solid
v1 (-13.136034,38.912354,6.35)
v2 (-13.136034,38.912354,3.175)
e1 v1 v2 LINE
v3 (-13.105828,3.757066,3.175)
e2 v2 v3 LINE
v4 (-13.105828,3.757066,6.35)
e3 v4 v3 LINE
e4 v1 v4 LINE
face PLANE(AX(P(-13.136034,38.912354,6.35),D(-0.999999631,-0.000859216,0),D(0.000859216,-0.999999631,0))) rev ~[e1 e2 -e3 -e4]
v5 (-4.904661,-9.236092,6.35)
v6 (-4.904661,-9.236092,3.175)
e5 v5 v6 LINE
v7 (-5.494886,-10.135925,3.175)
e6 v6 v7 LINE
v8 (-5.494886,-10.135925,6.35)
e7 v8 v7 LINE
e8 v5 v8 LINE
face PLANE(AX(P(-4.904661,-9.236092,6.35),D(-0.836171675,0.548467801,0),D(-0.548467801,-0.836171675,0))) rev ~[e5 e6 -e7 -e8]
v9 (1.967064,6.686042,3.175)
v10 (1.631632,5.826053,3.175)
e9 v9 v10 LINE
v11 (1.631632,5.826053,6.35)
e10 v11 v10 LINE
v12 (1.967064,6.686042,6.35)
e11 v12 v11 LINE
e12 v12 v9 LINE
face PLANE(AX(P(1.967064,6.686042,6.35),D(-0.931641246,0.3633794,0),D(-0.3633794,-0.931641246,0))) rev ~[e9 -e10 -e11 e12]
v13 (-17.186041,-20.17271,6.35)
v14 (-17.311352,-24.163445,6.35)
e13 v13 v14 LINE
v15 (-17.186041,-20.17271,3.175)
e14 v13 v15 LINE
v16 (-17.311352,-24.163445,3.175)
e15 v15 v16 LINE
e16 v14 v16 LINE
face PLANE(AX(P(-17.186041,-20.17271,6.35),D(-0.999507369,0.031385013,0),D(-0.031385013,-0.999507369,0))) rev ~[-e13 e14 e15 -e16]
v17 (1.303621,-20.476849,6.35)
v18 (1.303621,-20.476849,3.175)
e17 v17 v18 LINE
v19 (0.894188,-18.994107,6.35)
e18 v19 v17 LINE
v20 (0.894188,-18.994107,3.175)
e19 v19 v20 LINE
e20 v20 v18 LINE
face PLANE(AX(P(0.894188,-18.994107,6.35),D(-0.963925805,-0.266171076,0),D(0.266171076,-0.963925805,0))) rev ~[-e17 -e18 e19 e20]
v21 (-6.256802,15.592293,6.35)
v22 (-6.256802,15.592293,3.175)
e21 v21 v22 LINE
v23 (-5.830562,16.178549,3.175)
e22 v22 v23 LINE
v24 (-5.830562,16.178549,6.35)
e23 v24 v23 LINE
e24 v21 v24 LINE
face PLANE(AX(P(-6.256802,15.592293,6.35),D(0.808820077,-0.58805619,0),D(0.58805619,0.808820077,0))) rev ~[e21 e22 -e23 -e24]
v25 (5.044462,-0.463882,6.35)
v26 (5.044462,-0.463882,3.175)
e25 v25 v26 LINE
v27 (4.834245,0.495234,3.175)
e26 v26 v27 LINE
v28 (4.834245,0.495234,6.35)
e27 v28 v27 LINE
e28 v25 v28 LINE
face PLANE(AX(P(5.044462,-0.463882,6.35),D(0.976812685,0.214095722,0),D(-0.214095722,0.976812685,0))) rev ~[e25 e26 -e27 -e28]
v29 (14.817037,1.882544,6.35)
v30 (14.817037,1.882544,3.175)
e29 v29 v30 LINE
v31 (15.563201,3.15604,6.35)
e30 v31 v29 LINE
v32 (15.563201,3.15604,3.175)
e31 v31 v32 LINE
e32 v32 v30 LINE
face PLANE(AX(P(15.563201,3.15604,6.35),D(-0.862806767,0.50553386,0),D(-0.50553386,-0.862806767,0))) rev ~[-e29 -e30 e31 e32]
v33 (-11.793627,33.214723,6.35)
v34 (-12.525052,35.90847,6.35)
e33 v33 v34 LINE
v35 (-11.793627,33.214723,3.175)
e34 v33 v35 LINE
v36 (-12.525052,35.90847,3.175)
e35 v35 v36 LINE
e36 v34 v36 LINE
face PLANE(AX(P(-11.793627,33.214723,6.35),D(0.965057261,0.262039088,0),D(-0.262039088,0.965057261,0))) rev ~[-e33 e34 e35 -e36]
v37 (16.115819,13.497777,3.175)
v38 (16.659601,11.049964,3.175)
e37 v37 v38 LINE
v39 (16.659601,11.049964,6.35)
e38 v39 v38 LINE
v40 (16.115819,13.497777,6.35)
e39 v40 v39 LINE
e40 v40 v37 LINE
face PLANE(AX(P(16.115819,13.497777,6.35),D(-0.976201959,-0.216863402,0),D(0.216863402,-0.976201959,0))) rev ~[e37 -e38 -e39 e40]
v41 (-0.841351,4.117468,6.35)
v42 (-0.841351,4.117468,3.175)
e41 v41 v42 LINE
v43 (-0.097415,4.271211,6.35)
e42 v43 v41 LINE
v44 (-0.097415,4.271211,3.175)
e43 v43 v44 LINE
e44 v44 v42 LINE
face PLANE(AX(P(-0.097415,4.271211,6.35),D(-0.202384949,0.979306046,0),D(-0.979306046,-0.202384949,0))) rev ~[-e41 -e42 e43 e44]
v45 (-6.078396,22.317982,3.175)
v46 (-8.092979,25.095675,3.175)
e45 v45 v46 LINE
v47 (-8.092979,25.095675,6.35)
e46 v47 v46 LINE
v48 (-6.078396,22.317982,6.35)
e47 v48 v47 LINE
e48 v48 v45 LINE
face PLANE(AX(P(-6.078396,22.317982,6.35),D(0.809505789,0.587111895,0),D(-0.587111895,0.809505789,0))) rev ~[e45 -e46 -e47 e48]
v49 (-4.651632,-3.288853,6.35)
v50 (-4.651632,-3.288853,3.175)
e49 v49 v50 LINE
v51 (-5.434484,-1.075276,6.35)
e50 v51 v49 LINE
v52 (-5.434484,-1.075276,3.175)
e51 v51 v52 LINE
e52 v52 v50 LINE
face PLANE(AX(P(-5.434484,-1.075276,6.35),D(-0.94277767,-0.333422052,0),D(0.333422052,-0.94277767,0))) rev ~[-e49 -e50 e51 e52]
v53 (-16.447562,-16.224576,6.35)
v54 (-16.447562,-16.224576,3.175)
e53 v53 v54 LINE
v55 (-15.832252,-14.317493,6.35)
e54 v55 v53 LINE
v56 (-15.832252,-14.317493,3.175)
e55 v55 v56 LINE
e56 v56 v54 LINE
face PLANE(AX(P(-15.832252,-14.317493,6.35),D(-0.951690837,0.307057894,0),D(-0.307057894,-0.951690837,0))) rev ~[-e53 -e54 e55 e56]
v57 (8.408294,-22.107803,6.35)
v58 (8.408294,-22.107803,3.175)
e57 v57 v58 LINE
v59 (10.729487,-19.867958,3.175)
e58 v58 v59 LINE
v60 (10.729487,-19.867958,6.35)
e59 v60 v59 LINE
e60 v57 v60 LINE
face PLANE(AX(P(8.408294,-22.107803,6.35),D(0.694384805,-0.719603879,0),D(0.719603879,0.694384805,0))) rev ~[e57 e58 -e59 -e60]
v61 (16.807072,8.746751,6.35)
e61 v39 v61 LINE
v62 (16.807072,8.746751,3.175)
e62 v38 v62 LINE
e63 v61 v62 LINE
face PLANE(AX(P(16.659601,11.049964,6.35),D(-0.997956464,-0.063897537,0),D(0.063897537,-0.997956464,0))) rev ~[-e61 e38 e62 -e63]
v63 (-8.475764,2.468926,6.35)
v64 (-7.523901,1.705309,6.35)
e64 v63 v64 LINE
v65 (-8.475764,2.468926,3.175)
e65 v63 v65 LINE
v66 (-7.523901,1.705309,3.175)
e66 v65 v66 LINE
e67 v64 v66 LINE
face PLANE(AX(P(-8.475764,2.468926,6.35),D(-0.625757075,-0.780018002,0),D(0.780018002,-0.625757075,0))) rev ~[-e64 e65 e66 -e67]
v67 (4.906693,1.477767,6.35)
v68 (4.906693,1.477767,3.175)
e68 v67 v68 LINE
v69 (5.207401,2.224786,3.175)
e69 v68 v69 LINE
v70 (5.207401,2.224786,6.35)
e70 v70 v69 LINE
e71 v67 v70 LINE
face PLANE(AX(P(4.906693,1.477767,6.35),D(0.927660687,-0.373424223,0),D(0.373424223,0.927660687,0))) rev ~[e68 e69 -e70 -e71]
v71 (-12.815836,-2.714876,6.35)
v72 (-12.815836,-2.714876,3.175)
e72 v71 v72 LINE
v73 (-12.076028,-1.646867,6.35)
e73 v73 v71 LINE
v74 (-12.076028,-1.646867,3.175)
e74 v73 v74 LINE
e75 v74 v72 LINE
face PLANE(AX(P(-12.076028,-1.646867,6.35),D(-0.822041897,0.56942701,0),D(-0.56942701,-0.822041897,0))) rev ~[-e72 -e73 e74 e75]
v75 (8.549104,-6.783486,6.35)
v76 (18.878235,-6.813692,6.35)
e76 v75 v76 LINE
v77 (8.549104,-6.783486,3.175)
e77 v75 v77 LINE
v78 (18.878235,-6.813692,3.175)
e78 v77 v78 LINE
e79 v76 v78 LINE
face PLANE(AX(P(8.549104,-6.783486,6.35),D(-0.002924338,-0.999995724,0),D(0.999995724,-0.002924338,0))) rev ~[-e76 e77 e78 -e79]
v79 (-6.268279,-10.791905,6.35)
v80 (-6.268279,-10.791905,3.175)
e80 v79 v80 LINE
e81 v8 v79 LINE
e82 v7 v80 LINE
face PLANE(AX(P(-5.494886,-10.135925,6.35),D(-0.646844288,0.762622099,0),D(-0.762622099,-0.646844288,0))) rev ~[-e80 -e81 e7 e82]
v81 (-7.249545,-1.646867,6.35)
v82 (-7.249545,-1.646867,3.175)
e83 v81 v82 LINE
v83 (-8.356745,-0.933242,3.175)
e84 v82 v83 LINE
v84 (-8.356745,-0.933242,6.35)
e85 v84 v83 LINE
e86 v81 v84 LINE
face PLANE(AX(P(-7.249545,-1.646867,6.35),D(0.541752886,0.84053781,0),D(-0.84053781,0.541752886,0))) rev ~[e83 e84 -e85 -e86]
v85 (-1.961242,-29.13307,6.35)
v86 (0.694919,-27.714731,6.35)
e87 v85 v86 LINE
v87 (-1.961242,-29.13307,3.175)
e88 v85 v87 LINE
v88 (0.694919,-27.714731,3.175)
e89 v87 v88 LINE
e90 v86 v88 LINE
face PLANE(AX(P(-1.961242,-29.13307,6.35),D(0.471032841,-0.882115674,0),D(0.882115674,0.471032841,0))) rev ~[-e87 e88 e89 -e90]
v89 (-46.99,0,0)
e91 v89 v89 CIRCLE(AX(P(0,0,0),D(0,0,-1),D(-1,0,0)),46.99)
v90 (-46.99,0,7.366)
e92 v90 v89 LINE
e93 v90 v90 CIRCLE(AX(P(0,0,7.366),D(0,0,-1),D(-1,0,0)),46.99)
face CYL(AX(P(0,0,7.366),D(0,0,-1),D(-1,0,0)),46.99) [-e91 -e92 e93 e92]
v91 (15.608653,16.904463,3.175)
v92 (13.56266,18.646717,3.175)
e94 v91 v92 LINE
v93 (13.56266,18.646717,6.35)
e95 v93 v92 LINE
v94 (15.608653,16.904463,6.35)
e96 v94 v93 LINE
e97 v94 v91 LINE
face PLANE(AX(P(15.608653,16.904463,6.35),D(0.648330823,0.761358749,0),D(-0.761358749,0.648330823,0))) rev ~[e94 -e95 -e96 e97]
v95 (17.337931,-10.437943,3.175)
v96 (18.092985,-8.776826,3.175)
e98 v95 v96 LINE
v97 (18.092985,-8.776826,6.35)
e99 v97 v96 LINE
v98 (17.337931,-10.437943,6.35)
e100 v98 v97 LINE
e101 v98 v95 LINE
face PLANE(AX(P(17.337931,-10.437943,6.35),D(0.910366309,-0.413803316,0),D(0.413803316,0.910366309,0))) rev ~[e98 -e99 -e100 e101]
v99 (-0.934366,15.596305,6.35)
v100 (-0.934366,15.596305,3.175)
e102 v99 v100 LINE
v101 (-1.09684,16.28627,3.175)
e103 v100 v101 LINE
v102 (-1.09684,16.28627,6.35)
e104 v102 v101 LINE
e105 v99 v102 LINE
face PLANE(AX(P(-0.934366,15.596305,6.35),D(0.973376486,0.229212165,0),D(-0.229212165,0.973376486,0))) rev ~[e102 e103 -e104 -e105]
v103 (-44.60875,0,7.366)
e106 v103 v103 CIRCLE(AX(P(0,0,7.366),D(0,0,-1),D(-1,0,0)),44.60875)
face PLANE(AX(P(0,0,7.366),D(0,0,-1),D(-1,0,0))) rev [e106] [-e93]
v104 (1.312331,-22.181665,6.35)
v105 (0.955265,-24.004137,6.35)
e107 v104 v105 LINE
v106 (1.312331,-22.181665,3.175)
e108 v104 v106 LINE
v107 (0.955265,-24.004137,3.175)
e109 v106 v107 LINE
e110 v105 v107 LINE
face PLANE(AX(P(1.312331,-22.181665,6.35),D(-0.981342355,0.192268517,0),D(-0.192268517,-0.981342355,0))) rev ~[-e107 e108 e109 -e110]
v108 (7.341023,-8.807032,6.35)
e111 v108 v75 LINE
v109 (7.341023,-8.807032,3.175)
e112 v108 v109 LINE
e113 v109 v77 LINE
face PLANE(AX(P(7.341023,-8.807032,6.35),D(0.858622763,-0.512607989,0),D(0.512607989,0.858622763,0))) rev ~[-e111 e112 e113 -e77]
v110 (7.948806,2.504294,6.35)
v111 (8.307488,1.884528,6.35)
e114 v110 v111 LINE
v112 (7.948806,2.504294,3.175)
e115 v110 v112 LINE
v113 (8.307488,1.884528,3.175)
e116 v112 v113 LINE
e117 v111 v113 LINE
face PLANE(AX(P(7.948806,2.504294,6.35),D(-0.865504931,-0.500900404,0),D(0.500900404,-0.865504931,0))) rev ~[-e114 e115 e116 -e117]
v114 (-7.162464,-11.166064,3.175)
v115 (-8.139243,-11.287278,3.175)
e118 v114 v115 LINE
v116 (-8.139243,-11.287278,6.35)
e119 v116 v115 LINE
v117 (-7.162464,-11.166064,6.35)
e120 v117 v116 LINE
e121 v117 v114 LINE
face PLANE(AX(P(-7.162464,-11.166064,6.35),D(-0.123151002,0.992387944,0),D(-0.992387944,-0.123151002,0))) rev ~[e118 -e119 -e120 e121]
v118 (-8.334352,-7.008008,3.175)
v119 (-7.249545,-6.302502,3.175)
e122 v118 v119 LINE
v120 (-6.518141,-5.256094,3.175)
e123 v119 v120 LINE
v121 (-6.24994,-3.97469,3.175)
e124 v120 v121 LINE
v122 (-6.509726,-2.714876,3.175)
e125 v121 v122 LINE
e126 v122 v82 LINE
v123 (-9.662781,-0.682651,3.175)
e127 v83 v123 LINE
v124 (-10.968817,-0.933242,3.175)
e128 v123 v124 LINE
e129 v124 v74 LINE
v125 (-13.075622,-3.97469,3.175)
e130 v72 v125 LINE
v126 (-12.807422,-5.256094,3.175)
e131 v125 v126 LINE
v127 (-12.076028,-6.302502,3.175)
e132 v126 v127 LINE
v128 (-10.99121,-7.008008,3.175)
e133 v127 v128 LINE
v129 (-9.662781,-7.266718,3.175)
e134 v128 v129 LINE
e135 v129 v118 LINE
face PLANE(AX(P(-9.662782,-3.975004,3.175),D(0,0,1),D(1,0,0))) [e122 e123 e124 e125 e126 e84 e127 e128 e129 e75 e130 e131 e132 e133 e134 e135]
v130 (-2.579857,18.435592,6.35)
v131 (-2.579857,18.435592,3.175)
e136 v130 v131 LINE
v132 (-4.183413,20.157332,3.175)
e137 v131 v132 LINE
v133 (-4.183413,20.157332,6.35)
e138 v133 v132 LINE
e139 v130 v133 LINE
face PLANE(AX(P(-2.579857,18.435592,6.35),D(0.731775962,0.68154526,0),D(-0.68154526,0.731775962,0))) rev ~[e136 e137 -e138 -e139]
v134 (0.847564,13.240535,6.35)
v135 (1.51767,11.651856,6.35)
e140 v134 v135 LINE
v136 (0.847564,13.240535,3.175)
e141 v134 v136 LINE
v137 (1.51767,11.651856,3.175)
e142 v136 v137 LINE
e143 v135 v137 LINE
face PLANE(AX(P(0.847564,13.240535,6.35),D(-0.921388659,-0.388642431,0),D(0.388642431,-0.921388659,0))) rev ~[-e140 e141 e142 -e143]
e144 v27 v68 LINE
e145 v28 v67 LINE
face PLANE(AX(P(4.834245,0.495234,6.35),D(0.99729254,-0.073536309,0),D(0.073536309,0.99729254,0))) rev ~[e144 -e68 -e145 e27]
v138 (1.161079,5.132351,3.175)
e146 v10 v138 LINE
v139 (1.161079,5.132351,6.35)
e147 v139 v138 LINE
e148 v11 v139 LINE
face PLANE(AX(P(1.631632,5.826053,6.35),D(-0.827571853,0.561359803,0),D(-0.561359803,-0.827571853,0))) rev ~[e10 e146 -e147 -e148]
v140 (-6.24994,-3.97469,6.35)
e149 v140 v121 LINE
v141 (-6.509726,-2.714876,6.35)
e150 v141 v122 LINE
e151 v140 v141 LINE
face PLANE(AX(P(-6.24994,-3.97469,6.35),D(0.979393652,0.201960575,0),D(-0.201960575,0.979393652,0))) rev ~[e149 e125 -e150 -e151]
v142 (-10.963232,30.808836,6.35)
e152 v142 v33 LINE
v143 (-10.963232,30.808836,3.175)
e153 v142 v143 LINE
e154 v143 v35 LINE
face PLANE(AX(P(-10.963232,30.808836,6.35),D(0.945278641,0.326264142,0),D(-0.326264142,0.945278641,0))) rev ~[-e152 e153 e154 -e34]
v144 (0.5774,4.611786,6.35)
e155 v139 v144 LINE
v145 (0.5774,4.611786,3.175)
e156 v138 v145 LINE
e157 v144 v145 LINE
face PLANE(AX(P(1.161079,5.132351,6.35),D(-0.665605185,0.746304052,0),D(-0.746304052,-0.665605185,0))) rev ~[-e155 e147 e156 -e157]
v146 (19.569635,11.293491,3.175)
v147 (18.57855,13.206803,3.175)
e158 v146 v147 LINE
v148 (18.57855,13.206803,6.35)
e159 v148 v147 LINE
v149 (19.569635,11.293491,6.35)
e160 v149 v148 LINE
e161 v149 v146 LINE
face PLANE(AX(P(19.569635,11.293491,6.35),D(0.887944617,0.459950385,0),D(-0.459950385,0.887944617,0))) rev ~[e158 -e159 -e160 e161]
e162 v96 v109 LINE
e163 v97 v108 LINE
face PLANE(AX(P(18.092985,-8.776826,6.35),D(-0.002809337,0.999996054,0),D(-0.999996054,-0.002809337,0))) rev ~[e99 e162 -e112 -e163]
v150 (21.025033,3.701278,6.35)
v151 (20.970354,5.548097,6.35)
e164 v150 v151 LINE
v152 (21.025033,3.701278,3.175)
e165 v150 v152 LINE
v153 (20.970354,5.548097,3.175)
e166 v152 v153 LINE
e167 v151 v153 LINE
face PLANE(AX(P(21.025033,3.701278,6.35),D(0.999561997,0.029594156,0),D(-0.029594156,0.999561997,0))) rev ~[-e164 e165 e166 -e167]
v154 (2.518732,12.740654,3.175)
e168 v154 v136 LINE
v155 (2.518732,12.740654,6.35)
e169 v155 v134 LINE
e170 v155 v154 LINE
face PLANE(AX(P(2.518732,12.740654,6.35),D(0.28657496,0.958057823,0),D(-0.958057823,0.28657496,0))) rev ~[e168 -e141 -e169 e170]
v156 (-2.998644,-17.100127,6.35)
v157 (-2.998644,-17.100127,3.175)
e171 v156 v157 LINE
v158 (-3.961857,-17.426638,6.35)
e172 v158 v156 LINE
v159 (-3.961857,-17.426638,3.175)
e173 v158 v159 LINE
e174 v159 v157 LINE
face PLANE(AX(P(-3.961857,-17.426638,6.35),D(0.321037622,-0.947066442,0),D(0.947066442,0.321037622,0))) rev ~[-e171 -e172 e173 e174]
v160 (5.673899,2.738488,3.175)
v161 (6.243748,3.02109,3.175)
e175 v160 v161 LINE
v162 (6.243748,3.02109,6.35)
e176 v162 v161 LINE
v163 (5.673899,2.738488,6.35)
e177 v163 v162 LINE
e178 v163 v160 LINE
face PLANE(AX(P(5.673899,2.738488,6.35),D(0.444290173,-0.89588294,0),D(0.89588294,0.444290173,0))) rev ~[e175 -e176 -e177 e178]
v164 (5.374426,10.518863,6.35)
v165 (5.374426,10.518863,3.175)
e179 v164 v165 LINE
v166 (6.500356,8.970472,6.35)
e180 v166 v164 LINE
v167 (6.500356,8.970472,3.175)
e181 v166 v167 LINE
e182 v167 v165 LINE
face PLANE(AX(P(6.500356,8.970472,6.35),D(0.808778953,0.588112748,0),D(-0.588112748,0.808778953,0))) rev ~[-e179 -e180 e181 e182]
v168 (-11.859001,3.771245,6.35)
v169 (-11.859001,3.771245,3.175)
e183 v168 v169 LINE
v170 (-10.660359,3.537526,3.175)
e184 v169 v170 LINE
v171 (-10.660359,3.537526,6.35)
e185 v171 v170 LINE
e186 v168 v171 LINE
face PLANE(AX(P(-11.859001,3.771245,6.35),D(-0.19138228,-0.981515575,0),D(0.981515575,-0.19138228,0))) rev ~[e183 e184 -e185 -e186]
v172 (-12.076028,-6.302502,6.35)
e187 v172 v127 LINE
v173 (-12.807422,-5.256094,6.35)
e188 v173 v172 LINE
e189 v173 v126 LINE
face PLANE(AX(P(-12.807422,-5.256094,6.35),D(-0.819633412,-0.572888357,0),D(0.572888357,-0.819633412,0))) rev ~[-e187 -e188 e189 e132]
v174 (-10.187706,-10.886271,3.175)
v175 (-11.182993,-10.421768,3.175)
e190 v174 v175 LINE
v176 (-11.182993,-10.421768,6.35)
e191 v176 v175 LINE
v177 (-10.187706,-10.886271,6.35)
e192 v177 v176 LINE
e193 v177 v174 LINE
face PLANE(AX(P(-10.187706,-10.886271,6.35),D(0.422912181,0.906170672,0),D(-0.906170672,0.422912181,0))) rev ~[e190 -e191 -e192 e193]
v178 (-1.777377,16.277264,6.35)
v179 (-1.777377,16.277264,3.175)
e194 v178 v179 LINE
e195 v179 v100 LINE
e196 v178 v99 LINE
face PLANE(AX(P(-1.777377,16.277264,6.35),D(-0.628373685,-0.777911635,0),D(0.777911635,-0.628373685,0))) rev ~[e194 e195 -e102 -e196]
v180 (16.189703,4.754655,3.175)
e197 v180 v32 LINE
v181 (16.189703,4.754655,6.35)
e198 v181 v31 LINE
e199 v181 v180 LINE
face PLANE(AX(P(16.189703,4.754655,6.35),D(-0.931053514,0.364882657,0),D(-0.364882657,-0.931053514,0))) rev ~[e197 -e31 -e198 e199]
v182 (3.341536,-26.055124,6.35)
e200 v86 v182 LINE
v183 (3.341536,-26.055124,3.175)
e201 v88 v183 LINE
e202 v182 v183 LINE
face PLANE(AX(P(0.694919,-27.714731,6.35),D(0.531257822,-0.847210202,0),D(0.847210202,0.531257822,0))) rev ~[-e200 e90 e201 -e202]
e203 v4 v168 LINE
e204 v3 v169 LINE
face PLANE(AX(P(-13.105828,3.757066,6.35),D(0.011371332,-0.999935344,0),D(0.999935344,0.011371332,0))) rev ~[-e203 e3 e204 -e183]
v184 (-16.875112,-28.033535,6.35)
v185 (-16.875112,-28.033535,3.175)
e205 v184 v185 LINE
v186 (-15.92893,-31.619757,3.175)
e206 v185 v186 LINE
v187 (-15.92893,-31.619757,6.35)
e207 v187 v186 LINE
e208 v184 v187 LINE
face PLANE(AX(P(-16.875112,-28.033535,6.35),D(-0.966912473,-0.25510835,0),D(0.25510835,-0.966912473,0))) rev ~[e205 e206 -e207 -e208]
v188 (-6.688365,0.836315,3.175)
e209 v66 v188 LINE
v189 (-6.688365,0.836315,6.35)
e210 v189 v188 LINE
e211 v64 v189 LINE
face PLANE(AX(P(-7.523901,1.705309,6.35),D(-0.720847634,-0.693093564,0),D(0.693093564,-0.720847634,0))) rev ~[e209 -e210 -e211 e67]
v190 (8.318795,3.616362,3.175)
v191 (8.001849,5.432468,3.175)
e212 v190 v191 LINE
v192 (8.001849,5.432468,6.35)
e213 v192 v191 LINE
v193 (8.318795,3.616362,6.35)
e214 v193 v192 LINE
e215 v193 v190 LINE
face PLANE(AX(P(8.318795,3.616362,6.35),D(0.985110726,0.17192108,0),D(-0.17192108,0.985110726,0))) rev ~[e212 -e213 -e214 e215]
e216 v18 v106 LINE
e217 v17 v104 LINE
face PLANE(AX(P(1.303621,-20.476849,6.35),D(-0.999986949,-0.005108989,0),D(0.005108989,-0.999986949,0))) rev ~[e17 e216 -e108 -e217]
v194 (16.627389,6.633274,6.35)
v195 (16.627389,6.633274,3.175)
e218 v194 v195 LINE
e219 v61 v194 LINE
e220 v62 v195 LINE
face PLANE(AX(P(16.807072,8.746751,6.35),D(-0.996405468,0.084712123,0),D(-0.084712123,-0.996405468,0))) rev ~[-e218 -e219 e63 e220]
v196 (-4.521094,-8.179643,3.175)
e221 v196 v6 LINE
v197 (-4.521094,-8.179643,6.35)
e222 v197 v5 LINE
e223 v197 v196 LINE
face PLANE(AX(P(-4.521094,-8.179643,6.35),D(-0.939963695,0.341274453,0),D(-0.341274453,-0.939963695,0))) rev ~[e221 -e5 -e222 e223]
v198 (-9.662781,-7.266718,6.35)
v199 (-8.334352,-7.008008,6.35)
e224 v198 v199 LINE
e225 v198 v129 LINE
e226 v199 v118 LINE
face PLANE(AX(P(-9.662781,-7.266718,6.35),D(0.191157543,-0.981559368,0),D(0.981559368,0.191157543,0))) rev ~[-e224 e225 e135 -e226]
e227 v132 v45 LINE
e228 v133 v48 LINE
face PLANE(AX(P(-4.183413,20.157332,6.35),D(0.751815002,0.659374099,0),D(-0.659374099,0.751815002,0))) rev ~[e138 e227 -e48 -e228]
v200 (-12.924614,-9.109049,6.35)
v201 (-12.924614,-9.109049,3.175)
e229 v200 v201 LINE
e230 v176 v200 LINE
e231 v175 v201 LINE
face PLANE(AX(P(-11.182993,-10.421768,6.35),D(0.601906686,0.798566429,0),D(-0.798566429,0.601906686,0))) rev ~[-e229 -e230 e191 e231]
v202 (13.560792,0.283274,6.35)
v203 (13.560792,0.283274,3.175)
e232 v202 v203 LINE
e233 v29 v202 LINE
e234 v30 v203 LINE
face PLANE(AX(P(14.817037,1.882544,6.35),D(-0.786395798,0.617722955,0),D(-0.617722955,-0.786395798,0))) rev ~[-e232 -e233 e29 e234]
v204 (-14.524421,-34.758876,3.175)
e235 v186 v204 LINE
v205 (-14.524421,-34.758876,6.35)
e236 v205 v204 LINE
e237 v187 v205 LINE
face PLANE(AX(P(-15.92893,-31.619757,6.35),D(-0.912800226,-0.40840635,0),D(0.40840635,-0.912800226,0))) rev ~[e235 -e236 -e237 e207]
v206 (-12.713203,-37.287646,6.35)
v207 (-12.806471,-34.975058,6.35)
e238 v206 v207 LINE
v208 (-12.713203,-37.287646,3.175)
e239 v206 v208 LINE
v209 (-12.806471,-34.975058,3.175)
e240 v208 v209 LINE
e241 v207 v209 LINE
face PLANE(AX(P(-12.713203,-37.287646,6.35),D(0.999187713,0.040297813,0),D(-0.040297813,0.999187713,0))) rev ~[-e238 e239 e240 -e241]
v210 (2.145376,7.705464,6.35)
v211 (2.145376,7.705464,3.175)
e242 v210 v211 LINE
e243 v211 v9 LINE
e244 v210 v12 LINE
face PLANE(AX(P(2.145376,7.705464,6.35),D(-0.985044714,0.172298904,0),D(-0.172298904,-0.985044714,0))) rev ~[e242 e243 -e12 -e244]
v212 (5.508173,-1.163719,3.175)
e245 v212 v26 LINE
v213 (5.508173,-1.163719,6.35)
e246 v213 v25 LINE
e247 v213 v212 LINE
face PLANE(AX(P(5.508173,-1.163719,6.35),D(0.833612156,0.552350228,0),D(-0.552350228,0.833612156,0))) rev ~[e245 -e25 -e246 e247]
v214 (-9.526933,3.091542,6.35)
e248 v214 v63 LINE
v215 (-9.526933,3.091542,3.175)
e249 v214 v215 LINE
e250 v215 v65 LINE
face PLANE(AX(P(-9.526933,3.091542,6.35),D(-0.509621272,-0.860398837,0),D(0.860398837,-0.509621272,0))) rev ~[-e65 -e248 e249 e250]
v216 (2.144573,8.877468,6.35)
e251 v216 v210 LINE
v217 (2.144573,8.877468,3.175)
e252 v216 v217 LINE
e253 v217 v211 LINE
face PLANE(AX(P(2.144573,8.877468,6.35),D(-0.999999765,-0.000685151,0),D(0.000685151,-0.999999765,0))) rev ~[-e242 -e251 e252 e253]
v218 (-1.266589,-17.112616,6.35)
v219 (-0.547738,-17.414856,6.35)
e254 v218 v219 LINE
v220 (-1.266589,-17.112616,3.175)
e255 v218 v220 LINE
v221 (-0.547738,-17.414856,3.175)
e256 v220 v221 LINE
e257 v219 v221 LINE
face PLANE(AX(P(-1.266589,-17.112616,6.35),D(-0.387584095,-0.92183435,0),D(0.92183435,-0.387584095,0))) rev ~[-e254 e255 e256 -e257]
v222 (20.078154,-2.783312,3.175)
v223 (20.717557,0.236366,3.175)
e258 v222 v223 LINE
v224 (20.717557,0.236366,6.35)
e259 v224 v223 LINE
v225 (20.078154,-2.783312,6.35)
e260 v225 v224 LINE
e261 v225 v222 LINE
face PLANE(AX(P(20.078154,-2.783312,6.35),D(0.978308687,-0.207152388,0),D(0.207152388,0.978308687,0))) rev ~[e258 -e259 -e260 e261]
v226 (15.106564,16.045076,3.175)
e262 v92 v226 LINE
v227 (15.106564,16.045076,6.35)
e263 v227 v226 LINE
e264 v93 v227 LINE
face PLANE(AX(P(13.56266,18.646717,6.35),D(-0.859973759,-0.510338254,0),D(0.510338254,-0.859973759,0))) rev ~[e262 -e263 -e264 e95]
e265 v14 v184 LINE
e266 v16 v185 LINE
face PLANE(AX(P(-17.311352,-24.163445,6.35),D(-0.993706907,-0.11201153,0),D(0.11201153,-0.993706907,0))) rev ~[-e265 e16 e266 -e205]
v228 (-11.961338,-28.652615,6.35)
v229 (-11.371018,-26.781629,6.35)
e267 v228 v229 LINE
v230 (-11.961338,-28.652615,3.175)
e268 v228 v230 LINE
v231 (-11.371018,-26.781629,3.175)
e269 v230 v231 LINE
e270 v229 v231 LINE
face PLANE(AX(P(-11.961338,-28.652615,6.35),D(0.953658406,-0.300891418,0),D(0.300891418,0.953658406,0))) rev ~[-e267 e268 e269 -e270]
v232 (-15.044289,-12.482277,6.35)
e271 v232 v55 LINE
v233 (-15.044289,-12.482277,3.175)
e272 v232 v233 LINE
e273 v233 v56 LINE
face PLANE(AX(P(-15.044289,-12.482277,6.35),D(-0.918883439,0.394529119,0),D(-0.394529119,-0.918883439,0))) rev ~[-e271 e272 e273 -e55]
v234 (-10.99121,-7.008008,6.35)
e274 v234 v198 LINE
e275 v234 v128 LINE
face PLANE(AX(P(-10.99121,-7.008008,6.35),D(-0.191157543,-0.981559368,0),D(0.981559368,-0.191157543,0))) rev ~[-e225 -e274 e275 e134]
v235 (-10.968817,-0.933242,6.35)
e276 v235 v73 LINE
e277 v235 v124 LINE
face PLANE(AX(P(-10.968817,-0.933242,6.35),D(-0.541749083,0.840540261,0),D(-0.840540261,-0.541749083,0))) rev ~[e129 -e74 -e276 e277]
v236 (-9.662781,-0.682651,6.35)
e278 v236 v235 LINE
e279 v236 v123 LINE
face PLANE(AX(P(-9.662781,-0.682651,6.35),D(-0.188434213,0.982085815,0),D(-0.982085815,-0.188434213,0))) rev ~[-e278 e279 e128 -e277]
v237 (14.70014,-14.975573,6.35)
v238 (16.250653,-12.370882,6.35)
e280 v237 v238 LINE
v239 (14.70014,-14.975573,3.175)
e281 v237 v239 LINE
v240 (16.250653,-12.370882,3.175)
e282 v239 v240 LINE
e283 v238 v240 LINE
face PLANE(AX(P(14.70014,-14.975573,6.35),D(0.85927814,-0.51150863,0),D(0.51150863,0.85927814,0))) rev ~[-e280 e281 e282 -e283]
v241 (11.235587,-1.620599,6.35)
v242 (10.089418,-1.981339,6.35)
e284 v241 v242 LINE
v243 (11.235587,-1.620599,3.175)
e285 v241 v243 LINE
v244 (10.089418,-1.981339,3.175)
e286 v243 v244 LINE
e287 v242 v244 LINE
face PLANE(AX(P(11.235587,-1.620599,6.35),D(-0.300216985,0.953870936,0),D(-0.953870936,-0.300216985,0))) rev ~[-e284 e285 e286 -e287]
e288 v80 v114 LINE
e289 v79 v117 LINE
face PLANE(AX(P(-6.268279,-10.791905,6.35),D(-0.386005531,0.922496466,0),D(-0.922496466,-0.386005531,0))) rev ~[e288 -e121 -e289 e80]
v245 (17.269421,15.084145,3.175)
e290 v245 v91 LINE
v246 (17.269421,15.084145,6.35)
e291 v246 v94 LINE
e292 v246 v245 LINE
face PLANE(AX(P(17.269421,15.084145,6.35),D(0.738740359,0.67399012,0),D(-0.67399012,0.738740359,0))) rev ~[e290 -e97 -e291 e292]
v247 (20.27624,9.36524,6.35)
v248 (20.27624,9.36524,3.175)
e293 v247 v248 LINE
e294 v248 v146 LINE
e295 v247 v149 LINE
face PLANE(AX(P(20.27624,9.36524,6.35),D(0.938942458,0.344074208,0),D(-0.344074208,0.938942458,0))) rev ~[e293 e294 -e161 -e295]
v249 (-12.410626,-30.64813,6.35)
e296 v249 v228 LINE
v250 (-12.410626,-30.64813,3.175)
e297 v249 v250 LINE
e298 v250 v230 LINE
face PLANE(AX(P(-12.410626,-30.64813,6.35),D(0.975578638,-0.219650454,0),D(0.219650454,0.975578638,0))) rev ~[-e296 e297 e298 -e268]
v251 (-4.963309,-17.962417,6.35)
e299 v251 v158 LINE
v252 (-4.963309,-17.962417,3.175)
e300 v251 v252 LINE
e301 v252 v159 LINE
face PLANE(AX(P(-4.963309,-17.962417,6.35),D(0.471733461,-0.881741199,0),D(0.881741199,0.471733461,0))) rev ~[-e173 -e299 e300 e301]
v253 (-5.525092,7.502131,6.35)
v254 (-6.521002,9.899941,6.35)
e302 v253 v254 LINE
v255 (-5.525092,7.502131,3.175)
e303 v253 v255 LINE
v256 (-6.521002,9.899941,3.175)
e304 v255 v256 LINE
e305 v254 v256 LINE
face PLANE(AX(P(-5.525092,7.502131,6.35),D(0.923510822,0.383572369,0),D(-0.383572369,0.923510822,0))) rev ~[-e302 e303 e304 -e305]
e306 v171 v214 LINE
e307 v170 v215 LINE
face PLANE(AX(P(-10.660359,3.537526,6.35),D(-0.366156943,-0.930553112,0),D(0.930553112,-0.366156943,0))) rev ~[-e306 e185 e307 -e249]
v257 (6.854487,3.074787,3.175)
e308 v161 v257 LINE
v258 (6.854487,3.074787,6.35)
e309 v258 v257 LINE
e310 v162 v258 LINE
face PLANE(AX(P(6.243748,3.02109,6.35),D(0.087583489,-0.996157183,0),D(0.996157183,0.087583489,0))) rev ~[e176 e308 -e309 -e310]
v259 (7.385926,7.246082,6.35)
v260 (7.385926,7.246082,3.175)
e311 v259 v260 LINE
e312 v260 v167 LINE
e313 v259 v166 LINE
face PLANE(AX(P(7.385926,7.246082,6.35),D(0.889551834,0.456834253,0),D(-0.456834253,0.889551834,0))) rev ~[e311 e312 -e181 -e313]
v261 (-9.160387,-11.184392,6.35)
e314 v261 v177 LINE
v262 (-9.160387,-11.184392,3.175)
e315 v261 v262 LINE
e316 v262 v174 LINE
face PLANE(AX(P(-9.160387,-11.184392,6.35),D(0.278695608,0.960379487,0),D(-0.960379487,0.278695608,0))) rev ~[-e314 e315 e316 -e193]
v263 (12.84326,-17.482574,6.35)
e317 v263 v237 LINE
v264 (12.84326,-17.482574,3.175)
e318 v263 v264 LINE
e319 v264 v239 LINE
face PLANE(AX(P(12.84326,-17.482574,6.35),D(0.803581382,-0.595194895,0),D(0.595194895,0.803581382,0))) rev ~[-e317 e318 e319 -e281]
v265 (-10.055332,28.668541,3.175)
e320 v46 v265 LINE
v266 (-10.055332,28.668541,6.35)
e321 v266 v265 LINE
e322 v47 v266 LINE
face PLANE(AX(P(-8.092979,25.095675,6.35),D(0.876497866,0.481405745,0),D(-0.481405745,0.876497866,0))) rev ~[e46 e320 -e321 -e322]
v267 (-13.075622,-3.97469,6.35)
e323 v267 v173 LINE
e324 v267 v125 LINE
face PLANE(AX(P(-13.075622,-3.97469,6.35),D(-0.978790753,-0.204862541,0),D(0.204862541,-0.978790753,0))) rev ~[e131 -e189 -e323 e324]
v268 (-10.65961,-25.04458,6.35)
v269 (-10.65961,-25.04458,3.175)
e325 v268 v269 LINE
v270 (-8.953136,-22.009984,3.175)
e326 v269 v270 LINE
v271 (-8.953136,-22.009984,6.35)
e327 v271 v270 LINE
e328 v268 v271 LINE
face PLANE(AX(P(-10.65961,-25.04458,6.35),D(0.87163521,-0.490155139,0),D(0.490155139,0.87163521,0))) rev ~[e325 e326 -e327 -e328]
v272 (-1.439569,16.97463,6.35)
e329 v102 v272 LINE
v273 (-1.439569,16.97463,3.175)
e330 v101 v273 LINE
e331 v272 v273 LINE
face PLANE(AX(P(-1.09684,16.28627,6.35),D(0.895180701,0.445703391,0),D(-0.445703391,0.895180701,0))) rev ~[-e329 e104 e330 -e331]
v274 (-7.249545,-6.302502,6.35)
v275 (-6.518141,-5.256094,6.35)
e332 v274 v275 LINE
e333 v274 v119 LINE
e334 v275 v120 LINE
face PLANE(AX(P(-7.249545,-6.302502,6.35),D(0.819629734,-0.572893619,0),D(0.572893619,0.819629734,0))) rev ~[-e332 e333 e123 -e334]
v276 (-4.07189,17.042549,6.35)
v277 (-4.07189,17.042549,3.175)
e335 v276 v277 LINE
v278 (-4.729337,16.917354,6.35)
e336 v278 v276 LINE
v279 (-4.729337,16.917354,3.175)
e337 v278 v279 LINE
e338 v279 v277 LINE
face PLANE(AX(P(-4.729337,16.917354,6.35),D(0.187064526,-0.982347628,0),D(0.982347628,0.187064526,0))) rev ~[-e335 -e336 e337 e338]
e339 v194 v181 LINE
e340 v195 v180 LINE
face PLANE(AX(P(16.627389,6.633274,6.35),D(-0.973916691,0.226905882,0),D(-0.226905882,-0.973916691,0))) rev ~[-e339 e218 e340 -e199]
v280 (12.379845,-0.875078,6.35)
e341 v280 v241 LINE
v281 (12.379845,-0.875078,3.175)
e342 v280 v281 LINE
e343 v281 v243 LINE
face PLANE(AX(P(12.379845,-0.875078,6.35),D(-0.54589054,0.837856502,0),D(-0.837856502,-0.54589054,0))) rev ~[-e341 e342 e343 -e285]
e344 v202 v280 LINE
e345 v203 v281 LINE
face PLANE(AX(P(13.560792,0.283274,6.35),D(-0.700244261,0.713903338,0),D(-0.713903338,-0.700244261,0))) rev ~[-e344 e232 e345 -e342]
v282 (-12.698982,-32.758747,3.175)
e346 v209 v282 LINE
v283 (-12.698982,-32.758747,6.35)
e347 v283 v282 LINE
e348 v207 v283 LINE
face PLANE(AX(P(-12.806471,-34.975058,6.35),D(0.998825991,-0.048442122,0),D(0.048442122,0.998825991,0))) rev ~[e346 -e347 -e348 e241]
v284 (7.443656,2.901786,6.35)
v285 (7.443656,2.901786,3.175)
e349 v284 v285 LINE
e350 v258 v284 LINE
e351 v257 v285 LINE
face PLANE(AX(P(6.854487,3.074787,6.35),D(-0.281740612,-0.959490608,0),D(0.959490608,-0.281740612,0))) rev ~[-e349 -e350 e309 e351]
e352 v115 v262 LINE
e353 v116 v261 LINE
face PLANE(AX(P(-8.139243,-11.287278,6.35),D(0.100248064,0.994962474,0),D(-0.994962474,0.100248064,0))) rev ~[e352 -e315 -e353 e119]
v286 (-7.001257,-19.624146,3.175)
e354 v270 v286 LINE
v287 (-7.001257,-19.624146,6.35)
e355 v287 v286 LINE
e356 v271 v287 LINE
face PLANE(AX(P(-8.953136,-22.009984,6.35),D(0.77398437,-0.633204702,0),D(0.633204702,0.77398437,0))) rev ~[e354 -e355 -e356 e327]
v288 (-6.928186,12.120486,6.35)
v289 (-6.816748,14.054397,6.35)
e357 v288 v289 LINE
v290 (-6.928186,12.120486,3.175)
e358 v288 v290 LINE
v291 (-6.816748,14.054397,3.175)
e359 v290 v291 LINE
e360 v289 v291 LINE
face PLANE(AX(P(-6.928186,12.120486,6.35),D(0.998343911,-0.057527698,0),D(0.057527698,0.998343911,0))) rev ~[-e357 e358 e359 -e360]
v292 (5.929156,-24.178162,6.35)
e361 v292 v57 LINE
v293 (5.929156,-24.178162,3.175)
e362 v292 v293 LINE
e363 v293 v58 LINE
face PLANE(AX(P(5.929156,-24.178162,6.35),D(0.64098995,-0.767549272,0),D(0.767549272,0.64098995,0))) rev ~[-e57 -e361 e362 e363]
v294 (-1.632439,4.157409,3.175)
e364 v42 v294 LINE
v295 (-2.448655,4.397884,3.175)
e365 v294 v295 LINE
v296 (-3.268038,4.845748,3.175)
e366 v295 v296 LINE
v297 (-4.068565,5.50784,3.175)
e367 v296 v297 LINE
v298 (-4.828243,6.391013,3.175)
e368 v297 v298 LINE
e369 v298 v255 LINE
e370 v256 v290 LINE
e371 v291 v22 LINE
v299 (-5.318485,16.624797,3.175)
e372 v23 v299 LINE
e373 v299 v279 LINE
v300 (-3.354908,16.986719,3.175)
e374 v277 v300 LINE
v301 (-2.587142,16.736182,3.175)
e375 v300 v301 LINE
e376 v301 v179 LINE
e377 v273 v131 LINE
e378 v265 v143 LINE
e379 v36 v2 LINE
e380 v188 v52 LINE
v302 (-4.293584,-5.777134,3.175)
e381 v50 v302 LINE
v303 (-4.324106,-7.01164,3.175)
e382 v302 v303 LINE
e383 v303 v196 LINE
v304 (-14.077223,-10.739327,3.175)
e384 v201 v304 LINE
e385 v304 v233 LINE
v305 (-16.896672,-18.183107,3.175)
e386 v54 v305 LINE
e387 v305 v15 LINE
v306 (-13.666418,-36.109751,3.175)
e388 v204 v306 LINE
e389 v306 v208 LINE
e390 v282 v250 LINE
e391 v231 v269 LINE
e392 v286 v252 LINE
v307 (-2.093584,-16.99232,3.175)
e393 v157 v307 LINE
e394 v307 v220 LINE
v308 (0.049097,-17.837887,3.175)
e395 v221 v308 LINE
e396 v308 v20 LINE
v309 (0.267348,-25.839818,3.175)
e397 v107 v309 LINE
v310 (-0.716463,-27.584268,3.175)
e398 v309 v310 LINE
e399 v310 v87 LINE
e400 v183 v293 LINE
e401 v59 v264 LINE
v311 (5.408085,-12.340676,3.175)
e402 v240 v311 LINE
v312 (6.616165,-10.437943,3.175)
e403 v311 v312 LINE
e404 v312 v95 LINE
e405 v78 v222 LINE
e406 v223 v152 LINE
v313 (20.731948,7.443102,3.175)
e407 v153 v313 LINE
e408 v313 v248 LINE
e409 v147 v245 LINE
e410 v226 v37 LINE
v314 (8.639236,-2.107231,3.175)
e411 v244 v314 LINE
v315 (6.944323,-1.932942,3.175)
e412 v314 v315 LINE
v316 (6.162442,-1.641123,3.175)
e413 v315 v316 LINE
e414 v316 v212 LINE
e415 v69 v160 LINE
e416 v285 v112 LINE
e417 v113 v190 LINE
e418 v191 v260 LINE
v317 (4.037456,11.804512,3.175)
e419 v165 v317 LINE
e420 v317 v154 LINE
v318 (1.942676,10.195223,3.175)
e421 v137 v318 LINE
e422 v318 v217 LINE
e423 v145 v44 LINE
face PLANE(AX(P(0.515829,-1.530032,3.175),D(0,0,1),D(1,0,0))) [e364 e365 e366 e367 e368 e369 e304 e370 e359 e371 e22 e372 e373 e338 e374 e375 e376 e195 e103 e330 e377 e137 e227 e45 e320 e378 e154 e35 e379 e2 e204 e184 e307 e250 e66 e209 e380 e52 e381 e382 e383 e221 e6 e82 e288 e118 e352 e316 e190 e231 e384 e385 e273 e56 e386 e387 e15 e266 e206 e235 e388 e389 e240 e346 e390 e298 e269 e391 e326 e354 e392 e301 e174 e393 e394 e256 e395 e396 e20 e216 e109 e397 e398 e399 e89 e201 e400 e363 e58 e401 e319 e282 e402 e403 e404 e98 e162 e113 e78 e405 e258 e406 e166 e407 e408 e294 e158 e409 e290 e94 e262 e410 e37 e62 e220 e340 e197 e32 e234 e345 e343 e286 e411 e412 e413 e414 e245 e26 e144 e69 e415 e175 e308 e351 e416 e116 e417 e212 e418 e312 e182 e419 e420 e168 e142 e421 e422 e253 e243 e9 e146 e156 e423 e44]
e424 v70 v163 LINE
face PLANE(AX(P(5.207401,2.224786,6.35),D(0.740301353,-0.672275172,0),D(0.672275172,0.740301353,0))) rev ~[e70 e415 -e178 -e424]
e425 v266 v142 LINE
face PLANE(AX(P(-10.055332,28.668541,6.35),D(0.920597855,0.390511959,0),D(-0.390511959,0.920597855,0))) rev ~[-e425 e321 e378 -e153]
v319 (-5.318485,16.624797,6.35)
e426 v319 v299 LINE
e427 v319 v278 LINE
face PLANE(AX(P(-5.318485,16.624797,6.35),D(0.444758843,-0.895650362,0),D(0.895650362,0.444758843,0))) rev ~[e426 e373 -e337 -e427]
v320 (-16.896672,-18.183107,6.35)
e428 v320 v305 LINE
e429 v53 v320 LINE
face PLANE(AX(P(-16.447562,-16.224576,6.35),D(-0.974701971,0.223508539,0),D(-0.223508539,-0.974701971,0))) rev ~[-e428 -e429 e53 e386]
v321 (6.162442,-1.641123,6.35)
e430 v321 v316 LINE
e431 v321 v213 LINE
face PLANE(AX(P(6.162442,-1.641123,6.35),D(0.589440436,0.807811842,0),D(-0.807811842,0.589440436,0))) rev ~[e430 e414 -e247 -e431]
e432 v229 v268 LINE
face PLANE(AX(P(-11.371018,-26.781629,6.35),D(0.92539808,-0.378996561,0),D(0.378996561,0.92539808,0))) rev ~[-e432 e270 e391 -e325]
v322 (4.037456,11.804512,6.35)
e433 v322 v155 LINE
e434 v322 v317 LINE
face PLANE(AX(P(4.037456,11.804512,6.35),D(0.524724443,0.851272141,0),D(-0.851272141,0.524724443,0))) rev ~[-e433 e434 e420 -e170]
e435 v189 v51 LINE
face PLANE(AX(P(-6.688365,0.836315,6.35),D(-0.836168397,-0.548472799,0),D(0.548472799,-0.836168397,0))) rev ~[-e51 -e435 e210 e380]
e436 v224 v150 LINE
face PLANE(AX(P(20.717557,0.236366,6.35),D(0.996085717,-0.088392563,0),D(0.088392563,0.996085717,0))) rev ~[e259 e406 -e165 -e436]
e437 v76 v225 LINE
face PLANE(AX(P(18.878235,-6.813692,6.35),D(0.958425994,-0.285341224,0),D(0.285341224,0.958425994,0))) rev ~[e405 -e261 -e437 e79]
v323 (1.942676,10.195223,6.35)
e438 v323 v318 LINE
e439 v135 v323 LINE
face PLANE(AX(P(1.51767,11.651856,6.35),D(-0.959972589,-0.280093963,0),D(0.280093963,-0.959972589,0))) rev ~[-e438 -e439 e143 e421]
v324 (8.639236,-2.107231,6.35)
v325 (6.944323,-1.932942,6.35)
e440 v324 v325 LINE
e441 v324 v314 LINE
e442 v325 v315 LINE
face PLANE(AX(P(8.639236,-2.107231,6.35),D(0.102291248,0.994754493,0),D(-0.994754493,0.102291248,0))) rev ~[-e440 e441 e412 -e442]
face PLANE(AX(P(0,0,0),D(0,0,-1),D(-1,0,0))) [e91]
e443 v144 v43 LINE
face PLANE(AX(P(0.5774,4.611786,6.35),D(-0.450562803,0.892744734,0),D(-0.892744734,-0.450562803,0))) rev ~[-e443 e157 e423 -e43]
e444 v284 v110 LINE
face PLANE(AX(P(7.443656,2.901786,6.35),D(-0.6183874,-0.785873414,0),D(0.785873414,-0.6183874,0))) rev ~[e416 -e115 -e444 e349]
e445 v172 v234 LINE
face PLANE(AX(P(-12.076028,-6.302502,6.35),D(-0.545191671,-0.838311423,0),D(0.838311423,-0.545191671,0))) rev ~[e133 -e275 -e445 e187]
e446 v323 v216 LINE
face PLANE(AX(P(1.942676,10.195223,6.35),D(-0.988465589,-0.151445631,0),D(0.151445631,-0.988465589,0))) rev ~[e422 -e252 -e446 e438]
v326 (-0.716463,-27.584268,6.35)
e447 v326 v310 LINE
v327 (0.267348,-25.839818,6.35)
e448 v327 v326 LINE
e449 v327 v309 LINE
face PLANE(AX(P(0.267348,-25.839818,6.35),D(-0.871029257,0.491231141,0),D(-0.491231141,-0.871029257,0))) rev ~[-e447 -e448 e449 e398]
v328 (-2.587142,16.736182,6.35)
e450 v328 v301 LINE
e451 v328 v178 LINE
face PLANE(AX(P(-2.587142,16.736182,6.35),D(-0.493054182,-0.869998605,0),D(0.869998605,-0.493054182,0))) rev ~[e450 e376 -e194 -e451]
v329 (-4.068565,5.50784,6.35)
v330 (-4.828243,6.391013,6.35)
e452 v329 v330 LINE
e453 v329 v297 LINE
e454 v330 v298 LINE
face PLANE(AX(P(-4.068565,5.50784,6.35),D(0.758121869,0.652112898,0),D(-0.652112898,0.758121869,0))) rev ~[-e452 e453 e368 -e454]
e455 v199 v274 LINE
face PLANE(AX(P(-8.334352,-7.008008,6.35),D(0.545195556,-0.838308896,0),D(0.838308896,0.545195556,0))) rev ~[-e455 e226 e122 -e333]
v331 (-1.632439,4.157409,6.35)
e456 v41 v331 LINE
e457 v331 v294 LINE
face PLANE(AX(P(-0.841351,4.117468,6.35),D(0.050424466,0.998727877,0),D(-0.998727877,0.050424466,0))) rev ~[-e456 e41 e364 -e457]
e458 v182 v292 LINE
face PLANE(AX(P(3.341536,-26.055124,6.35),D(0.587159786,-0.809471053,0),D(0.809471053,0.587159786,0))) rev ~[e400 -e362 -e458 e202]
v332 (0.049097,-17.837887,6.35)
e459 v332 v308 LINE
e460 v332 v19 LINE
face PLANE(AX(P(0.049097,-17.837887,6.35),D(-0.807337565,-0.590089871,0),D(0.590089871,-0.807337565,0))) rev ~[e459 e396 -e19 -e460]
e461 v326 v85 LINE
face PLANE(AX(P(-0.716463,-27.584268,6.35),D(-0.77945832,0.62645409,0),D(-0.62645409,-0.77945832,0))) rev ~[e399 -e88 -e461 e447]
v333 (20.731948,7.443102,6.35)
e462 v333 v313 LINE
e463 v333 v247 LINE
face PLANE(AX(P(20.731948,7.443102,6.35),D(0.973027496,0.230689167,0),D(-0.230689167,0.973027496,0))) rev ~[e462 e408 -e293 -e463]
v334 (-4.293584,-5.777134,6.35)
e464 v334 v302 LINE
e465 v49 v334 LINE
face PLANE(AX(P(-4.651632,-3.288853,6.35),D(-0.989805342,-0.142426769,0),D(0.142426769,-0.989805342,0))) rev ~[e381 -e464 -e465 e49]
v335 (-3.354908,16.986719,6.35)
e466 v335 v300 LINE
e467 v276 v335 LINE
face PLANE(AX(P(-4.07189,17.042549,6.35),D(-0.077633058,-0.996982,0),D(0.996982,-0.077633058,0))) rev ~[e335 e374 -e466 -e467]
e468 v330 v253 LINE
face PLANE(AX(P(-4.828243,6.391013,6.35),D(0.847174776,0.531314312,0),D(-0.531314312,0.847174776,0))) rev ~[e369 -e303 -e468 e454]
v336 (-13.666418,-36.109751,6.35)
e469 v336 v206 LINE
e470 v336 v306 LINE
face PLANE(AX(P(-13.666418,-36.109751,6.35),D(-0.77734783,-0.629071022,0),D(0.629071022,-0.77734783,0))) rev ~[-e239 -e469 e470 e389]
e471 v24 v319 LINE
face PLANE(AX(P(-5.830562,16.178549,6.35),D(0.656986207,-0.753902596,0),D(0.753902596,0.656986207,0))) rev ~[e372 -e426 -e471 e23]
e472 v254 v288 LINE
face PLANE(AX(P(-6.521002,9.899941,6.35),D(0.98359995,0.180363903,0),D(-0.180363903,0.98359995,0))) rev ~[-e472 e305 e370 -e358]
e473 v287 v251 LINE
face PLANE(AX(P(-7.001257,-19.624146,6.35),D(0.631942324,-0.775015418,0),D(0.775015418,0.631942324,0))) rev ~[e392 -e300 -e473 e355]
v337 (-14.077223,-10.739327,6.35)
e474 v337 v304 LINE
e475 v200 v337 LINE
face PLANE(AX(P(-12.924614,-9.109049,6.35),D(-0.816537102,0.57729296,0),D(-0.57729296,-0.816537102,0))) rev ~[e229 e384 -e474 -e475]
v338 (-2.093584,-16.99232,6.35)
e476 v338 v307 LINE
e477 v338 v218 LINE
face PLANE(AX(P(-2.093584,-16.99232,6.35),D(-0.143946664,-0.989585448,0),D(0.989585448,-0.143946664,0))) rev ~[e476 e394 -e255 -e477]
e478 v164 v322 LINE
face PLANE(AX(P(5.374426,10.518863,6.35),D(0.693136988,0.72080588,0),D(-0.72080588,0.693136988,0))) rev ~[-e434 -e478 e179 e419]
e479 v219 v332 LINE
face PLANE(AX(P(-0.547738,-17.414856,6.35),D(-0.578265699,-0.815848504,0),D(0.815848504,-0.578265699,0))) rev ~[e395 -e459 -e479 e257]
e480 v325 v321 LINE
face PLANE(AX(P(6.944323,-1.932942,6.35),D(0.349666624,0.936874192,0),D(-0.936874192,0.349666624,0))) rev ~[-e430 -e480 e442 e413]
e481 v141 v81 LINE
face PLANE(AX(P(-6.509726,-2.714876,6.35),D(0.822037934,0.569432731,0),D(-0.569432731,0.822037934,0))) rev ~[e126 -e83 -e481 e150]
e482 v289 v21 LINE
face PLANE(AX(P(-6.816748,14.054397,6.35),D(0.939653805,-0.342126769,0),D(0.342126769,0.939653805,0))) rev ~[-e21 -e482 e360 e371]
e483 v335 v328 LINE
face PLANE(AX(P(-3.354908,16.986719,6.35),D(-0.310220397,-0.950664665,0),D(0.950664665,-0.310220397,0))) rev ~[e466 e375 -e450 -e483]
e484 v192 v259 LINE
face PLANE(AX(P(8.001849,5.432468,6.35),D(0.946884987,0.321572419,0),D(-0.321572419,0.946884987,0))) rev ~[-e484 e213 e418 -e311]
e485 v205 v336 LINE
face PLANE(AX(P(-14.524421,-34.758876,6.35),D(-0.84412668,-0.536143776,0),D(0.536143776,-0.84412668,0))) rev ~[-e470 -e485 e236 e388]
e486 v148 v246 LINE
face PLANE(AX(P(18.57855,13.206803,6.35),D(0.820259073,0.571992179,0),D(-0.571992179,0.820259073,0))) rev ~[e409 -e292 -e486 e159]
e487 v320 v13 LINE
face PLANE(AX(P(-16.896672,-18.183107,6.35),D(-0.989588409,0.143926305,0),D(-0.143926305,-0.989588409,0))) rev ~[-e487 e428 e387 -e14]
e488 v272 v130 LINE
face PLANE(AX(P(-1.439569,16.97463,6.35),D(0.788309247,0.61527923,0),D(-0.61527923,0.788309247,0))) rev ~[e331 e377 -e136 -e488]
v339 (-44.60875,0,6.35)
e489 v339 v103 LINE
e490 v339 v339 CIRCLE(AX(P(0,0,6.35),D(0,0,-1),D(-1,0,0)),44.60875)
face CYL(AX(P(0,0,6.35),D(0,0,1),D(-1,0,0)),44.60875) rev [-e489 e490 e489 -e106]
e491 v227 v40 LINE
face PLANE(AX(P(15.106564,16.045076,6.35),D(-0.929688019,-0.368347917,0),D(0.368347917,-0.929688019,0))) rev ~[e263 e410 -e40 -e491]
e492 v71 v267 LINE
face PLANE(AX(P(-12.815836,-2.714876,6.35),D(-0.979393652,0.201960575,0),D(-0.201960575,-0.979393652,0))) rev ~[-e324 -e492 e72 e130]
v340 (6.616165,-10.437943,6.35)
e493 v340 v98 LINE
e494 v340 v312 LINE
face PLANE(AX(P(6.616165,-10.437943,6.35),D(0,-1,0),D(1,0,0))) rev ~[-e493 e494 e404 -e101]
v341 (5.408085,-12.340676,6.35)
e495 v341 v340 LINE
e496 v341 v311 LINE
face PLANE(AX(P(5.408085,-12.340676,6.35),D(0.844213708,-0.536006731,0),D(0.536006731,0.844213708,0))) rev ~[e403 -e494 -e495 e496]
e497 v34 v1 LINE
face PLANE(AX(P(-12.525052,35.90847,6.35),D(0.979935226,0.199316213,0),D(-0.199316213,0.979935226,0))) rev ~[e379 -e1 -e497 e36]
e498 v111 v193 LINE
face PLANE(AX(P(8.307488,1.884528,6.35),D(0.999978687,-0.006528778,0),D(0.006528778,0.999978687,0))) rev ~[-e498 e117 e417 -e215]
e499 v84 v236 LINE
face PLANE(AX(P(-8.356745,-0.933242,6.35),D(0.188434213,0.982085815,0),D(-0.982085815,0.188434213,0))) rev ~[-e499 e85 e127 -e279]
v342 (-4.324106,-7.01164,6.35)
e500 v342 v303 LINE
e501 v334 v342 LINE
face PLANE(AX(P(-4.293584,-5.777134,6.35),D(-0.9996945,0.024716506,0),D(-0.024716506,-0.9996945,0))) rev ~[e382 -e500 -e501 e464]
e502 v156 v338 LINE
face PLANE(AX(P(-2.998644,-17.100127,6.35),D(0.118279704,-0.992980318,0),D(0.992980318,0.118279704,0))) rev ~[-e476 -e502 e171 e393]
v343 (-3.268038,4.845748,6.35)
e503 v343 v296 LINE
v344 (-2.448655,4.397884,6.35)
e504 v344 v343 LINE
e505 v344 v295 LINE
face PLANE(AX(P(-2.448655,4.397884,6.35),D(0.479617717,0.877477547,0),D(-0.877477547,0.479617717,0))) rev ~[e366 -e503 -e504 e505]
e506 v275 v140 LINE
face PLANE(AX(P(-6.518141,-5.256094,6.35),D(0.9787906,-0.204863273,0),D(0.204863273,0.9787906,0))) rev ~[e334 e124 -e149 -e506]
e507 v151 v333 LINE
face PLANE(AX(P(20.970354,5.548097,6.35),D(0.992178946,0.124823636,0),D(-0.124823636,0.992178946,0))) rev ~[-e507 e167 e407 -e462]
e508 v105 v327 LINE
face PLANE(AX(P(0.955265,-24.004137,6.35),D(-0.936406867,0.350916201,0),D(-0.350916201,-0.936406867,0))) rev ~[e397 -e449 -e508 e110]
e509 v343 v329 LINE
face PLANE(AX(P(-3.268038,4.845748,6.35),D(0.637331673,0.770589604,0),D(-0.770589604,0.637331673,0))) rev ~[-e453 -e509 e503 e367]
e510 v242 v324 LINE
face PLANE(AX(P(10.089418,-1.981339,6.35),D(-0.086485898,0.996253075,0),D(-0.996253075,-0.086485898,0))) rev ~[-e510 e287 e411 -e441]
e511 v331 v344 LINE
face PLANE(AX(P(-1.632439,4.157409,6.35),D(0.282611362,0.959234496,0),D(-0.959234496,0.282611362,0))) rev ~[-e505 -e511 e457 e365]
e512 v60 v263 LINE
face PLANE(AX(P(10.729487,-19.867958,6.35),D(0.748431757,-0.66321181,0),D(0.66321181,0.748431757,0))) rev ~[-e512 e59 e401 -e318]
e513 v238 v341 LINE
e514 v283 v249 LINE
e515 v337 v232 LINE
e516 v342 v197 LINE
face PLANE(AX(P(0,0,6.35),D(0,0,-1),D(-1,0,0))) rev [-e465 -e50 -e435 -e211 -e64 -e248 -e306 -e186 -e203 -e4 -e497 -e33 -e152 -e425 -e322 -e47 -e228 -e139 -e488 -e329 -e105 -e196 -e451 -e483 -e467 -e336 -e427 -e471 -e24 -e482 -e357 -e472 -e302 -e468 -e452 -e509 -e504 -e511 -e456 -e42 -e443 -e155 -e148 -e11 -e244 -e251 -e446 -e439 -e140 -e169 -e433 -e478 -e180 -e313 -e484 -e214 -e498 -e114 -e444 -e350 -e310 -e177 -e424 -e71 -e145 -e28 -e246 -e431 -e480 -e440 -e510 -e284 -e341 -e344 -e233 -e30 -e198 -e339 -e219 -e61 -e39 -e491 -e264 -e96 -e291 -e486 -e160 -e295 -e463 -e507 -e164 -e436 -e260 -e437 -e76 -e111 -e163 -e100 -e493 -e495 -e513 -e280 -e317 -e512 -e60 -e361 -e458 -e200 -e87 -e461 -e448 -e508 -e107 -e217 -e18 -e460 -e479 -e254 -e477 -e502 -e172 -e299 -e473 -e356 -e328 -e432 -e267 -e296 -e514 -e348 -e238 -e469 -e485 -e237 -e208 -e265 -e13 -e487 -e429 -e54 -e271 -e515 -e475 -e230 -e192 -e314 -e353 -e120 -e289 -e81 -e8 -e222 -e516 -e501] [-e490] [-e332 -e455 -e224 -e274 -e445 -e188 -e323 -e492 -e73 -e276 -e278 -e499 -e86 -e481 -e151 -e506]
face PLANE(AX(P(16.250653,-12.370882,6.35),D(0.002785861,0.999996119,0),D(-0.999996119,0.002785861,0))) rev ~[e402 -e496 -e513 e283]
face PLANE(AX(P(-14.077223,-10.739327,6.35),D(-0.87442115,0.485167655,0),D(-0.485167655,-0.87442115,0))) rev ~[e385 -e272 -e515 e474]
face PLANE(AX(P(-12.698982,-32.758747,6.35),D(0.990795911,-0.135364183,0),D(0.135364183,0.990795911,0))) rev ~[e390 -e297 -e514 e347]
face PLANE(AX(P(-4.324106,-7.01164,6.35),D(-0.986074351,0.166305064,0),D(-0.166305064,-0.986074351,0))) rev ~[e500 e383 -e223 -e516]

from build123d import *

# Parameters (mm, degrees)
F3_DEPTH = 3.175


with BuildPart() as f1:
    # F0 (on Front) → F1 (revolve)
    with BuildSketch(Plane.XZ):
        Polygon((-44.60875, 7.366), (-46.99, 7.366), (-46.99, 0), (0, 0), (0, 6.35), (-44.60875, 6.35), align=None)
    revolve(axis=Axis((0, 0, 3.175), (0, 0, -1)))

    # F2 (on face) → F3 (cut)
    with BuildSketch(Plane.XY.offset(6.35)):
        Polygon((-13.136034, 38.912354), (-13.105828, 3.757066), (-11.859001, 3.771245), (-10.660359, 3.537526), (-9.526933, 3.091542), (-8.475764, 2.468926), (-7.523901, 1.705309), (-6.688365, 0.836315), (-5.434484, -1.075276), (-4.651632, -3.288853), (-4.293584, -5.777134), (-4.324106, -7.01164), (-4.521094, -8.179643), (-4.904661, -9.236092), (-5.494886, -10.135925), (-6.268279, -10.791905), (-7.162464, -11.166064), (-8.139243, -11.287278), (-9.160387, -11.184392), (-10.187706, -10.886271), (-11.182993, -10.421768), (-12.924614, -9.109049), (-14.077223, -10.739327), (-15.044289, -12.482277), (-15.832252, -14.317493), (-16.447562, -16.224576), (-16.896672, -18.183107), (-17.186041, -20.17271), (-17.311352, -24.163445), (-16.875112, -28.033535), (-15.92893, -31.619757), (-14.524421, -34.758876), (-13.666418, -36.109751), (-12.713203, -37.287646), (-12.806471, -34.975058), (-12.698982, -32.758747), (-12.410626, -30.64813), (-11.961338, -28.652615), (-11.371018, -26.781629), (-10.65961, -25.04458), (-8.953136, -22.009984), (-7.001257, -19.624146), (-4.963309, -17.962417), (-3.961857, -17.426638), (-2.998644, -17.100127), (-2.093584, -16.99232), (-1.266589, -17.112616), (-0.547738, -17.414856), (0.049097, -17.837887), (0.894188, -18.994107), (1.303621, -20.476849), (1.312331, -22.181665), (0.955265, -24.004137), (0.267348, -25.839818), (-0.716463, -27.584268), (-1.961242, -29.13307), (0.694919, -27.714731), (3.341536, -26.055124), (5.929156, -24.178162), (8.408294, -22.107803), (10.729487, -19.867958), (12.84326, -17.482574), (14.70014, -14.975573), (16.250653, -12.370882), (5.408085, -12.340676), (6.616165, -10.437943), (17.337931, -10.437943), (18.092985, -8.776826), (7.341023, -8.807032), (8.549104, -6.783486), (18.878235, -6.813692), (20.078154, -2.783312), (20.717557, 0.236366), (21.025033, 3.701278), (20.970354, 5.548097), (20.731948, 7.443102), (20.27624, 9.36524), (19.569635, 11.293491), (18.57855, 13.206803), (17.269421, 15.084145), (15.608653, 16.904463), (13.56266, 18.646717), (15.106564, 16.045076), (16.115819, 13.497777), (16.659601, 11.049964), (16.807072, 8.746751), (16.627389, 6.633274), (16.189703, 4.754655), (15.563201, 3.15604), (14.817037, 1.882544), (13.560792, 0.283274), (12.379845, -0.875078), (11.235587, -1.620599), (10.089418, -1.981339), (8.639236, -2.107231), (6.944323, -1.932942), (6.162442, -1.641123), (5.508173, -1.163719), (5.044462, -0.463882), (4.834245, 0.495234), (4.906693, 1.477767), (5.207401, 2.224786), (5.673899, 2.738488), (6.243748, 3.02109), (6.854487, 3.074787), (7.443656, 2.901786), (7.948806, 2.504294), (8.307488, 1.884528), (8.318795, 3.616362), (8.001849, 5.432468), (7.385926, 7.246082), (6.500356, 8.970472), (5.374426, 10.518863), (4.037456, 11.804512), (2.518732, 12.740654), (0.847564, 13.240535), (1.51767, 11.651856), (1.942676, 10.195223), (2.144573, 8.877468), (2.145376, 7.705464), (1.967064, 6.686042), (1.631632, 5.826053), (1.161079, 5.132351), (0.5774, 4.611786), (-0.097415, 4.271211), (-0.841351, 4.117468), (-1.632439, 4.157409), (-2.448655, 4.397884), (-3.268038, 4.845748), (-4.068565, 5.50784), (-4.828243, 6.391013), (-5.525092, 7.502131), (-6.521002, 9.899941), (-6.928186, 12.120486), (-6.816748, 14.054397), (-6.256802, 15.592293), (-5.830562, 16.178549), (-5.318485, 16.624797), (-4.729337, 16.917354), (-4.07189, 17.042549), (-3.354908, 16.986719), (-2.587142, 16.736182), (-1.777377, 16.277264), (-0.934366, 15.596305), (-1.09684, 16.28627), (-1.439569, 16.97463), (-2.579857, 18.435592), (-4.183413, 20.157332), (-6.078396, 22.317982), (-8.092979, 25.095675), (-10.055332, 28.668541), (-10.963232, 30.808836), (-11.793627, 33.214723), (-12.525052, 35.90847), align=None)
        Polygon((-6.518141, -5.256094), (-6.24994, -3.97469), (-6.509726, -2.714876), (-7.249545, -1.646867), (-8.356745, -0.933242), (-9.662781, -0.682651), (-10.968817, -0.933242), (-12.076028, -1.646867), (-12.815836, -2.714876), (-13.075622, -3.97469), (-12.807422, -5.256094), (-12.076028, -6.302502), (-10.99121, -7.008008), (-9.662781, -7.266718), (-8.334352, -7.008008), (-7.249545, -6.302502), align=None)
    extrude(amount=-F3_DEPTH, mode=Mode.SUBTRACT)


solid = f1.part
